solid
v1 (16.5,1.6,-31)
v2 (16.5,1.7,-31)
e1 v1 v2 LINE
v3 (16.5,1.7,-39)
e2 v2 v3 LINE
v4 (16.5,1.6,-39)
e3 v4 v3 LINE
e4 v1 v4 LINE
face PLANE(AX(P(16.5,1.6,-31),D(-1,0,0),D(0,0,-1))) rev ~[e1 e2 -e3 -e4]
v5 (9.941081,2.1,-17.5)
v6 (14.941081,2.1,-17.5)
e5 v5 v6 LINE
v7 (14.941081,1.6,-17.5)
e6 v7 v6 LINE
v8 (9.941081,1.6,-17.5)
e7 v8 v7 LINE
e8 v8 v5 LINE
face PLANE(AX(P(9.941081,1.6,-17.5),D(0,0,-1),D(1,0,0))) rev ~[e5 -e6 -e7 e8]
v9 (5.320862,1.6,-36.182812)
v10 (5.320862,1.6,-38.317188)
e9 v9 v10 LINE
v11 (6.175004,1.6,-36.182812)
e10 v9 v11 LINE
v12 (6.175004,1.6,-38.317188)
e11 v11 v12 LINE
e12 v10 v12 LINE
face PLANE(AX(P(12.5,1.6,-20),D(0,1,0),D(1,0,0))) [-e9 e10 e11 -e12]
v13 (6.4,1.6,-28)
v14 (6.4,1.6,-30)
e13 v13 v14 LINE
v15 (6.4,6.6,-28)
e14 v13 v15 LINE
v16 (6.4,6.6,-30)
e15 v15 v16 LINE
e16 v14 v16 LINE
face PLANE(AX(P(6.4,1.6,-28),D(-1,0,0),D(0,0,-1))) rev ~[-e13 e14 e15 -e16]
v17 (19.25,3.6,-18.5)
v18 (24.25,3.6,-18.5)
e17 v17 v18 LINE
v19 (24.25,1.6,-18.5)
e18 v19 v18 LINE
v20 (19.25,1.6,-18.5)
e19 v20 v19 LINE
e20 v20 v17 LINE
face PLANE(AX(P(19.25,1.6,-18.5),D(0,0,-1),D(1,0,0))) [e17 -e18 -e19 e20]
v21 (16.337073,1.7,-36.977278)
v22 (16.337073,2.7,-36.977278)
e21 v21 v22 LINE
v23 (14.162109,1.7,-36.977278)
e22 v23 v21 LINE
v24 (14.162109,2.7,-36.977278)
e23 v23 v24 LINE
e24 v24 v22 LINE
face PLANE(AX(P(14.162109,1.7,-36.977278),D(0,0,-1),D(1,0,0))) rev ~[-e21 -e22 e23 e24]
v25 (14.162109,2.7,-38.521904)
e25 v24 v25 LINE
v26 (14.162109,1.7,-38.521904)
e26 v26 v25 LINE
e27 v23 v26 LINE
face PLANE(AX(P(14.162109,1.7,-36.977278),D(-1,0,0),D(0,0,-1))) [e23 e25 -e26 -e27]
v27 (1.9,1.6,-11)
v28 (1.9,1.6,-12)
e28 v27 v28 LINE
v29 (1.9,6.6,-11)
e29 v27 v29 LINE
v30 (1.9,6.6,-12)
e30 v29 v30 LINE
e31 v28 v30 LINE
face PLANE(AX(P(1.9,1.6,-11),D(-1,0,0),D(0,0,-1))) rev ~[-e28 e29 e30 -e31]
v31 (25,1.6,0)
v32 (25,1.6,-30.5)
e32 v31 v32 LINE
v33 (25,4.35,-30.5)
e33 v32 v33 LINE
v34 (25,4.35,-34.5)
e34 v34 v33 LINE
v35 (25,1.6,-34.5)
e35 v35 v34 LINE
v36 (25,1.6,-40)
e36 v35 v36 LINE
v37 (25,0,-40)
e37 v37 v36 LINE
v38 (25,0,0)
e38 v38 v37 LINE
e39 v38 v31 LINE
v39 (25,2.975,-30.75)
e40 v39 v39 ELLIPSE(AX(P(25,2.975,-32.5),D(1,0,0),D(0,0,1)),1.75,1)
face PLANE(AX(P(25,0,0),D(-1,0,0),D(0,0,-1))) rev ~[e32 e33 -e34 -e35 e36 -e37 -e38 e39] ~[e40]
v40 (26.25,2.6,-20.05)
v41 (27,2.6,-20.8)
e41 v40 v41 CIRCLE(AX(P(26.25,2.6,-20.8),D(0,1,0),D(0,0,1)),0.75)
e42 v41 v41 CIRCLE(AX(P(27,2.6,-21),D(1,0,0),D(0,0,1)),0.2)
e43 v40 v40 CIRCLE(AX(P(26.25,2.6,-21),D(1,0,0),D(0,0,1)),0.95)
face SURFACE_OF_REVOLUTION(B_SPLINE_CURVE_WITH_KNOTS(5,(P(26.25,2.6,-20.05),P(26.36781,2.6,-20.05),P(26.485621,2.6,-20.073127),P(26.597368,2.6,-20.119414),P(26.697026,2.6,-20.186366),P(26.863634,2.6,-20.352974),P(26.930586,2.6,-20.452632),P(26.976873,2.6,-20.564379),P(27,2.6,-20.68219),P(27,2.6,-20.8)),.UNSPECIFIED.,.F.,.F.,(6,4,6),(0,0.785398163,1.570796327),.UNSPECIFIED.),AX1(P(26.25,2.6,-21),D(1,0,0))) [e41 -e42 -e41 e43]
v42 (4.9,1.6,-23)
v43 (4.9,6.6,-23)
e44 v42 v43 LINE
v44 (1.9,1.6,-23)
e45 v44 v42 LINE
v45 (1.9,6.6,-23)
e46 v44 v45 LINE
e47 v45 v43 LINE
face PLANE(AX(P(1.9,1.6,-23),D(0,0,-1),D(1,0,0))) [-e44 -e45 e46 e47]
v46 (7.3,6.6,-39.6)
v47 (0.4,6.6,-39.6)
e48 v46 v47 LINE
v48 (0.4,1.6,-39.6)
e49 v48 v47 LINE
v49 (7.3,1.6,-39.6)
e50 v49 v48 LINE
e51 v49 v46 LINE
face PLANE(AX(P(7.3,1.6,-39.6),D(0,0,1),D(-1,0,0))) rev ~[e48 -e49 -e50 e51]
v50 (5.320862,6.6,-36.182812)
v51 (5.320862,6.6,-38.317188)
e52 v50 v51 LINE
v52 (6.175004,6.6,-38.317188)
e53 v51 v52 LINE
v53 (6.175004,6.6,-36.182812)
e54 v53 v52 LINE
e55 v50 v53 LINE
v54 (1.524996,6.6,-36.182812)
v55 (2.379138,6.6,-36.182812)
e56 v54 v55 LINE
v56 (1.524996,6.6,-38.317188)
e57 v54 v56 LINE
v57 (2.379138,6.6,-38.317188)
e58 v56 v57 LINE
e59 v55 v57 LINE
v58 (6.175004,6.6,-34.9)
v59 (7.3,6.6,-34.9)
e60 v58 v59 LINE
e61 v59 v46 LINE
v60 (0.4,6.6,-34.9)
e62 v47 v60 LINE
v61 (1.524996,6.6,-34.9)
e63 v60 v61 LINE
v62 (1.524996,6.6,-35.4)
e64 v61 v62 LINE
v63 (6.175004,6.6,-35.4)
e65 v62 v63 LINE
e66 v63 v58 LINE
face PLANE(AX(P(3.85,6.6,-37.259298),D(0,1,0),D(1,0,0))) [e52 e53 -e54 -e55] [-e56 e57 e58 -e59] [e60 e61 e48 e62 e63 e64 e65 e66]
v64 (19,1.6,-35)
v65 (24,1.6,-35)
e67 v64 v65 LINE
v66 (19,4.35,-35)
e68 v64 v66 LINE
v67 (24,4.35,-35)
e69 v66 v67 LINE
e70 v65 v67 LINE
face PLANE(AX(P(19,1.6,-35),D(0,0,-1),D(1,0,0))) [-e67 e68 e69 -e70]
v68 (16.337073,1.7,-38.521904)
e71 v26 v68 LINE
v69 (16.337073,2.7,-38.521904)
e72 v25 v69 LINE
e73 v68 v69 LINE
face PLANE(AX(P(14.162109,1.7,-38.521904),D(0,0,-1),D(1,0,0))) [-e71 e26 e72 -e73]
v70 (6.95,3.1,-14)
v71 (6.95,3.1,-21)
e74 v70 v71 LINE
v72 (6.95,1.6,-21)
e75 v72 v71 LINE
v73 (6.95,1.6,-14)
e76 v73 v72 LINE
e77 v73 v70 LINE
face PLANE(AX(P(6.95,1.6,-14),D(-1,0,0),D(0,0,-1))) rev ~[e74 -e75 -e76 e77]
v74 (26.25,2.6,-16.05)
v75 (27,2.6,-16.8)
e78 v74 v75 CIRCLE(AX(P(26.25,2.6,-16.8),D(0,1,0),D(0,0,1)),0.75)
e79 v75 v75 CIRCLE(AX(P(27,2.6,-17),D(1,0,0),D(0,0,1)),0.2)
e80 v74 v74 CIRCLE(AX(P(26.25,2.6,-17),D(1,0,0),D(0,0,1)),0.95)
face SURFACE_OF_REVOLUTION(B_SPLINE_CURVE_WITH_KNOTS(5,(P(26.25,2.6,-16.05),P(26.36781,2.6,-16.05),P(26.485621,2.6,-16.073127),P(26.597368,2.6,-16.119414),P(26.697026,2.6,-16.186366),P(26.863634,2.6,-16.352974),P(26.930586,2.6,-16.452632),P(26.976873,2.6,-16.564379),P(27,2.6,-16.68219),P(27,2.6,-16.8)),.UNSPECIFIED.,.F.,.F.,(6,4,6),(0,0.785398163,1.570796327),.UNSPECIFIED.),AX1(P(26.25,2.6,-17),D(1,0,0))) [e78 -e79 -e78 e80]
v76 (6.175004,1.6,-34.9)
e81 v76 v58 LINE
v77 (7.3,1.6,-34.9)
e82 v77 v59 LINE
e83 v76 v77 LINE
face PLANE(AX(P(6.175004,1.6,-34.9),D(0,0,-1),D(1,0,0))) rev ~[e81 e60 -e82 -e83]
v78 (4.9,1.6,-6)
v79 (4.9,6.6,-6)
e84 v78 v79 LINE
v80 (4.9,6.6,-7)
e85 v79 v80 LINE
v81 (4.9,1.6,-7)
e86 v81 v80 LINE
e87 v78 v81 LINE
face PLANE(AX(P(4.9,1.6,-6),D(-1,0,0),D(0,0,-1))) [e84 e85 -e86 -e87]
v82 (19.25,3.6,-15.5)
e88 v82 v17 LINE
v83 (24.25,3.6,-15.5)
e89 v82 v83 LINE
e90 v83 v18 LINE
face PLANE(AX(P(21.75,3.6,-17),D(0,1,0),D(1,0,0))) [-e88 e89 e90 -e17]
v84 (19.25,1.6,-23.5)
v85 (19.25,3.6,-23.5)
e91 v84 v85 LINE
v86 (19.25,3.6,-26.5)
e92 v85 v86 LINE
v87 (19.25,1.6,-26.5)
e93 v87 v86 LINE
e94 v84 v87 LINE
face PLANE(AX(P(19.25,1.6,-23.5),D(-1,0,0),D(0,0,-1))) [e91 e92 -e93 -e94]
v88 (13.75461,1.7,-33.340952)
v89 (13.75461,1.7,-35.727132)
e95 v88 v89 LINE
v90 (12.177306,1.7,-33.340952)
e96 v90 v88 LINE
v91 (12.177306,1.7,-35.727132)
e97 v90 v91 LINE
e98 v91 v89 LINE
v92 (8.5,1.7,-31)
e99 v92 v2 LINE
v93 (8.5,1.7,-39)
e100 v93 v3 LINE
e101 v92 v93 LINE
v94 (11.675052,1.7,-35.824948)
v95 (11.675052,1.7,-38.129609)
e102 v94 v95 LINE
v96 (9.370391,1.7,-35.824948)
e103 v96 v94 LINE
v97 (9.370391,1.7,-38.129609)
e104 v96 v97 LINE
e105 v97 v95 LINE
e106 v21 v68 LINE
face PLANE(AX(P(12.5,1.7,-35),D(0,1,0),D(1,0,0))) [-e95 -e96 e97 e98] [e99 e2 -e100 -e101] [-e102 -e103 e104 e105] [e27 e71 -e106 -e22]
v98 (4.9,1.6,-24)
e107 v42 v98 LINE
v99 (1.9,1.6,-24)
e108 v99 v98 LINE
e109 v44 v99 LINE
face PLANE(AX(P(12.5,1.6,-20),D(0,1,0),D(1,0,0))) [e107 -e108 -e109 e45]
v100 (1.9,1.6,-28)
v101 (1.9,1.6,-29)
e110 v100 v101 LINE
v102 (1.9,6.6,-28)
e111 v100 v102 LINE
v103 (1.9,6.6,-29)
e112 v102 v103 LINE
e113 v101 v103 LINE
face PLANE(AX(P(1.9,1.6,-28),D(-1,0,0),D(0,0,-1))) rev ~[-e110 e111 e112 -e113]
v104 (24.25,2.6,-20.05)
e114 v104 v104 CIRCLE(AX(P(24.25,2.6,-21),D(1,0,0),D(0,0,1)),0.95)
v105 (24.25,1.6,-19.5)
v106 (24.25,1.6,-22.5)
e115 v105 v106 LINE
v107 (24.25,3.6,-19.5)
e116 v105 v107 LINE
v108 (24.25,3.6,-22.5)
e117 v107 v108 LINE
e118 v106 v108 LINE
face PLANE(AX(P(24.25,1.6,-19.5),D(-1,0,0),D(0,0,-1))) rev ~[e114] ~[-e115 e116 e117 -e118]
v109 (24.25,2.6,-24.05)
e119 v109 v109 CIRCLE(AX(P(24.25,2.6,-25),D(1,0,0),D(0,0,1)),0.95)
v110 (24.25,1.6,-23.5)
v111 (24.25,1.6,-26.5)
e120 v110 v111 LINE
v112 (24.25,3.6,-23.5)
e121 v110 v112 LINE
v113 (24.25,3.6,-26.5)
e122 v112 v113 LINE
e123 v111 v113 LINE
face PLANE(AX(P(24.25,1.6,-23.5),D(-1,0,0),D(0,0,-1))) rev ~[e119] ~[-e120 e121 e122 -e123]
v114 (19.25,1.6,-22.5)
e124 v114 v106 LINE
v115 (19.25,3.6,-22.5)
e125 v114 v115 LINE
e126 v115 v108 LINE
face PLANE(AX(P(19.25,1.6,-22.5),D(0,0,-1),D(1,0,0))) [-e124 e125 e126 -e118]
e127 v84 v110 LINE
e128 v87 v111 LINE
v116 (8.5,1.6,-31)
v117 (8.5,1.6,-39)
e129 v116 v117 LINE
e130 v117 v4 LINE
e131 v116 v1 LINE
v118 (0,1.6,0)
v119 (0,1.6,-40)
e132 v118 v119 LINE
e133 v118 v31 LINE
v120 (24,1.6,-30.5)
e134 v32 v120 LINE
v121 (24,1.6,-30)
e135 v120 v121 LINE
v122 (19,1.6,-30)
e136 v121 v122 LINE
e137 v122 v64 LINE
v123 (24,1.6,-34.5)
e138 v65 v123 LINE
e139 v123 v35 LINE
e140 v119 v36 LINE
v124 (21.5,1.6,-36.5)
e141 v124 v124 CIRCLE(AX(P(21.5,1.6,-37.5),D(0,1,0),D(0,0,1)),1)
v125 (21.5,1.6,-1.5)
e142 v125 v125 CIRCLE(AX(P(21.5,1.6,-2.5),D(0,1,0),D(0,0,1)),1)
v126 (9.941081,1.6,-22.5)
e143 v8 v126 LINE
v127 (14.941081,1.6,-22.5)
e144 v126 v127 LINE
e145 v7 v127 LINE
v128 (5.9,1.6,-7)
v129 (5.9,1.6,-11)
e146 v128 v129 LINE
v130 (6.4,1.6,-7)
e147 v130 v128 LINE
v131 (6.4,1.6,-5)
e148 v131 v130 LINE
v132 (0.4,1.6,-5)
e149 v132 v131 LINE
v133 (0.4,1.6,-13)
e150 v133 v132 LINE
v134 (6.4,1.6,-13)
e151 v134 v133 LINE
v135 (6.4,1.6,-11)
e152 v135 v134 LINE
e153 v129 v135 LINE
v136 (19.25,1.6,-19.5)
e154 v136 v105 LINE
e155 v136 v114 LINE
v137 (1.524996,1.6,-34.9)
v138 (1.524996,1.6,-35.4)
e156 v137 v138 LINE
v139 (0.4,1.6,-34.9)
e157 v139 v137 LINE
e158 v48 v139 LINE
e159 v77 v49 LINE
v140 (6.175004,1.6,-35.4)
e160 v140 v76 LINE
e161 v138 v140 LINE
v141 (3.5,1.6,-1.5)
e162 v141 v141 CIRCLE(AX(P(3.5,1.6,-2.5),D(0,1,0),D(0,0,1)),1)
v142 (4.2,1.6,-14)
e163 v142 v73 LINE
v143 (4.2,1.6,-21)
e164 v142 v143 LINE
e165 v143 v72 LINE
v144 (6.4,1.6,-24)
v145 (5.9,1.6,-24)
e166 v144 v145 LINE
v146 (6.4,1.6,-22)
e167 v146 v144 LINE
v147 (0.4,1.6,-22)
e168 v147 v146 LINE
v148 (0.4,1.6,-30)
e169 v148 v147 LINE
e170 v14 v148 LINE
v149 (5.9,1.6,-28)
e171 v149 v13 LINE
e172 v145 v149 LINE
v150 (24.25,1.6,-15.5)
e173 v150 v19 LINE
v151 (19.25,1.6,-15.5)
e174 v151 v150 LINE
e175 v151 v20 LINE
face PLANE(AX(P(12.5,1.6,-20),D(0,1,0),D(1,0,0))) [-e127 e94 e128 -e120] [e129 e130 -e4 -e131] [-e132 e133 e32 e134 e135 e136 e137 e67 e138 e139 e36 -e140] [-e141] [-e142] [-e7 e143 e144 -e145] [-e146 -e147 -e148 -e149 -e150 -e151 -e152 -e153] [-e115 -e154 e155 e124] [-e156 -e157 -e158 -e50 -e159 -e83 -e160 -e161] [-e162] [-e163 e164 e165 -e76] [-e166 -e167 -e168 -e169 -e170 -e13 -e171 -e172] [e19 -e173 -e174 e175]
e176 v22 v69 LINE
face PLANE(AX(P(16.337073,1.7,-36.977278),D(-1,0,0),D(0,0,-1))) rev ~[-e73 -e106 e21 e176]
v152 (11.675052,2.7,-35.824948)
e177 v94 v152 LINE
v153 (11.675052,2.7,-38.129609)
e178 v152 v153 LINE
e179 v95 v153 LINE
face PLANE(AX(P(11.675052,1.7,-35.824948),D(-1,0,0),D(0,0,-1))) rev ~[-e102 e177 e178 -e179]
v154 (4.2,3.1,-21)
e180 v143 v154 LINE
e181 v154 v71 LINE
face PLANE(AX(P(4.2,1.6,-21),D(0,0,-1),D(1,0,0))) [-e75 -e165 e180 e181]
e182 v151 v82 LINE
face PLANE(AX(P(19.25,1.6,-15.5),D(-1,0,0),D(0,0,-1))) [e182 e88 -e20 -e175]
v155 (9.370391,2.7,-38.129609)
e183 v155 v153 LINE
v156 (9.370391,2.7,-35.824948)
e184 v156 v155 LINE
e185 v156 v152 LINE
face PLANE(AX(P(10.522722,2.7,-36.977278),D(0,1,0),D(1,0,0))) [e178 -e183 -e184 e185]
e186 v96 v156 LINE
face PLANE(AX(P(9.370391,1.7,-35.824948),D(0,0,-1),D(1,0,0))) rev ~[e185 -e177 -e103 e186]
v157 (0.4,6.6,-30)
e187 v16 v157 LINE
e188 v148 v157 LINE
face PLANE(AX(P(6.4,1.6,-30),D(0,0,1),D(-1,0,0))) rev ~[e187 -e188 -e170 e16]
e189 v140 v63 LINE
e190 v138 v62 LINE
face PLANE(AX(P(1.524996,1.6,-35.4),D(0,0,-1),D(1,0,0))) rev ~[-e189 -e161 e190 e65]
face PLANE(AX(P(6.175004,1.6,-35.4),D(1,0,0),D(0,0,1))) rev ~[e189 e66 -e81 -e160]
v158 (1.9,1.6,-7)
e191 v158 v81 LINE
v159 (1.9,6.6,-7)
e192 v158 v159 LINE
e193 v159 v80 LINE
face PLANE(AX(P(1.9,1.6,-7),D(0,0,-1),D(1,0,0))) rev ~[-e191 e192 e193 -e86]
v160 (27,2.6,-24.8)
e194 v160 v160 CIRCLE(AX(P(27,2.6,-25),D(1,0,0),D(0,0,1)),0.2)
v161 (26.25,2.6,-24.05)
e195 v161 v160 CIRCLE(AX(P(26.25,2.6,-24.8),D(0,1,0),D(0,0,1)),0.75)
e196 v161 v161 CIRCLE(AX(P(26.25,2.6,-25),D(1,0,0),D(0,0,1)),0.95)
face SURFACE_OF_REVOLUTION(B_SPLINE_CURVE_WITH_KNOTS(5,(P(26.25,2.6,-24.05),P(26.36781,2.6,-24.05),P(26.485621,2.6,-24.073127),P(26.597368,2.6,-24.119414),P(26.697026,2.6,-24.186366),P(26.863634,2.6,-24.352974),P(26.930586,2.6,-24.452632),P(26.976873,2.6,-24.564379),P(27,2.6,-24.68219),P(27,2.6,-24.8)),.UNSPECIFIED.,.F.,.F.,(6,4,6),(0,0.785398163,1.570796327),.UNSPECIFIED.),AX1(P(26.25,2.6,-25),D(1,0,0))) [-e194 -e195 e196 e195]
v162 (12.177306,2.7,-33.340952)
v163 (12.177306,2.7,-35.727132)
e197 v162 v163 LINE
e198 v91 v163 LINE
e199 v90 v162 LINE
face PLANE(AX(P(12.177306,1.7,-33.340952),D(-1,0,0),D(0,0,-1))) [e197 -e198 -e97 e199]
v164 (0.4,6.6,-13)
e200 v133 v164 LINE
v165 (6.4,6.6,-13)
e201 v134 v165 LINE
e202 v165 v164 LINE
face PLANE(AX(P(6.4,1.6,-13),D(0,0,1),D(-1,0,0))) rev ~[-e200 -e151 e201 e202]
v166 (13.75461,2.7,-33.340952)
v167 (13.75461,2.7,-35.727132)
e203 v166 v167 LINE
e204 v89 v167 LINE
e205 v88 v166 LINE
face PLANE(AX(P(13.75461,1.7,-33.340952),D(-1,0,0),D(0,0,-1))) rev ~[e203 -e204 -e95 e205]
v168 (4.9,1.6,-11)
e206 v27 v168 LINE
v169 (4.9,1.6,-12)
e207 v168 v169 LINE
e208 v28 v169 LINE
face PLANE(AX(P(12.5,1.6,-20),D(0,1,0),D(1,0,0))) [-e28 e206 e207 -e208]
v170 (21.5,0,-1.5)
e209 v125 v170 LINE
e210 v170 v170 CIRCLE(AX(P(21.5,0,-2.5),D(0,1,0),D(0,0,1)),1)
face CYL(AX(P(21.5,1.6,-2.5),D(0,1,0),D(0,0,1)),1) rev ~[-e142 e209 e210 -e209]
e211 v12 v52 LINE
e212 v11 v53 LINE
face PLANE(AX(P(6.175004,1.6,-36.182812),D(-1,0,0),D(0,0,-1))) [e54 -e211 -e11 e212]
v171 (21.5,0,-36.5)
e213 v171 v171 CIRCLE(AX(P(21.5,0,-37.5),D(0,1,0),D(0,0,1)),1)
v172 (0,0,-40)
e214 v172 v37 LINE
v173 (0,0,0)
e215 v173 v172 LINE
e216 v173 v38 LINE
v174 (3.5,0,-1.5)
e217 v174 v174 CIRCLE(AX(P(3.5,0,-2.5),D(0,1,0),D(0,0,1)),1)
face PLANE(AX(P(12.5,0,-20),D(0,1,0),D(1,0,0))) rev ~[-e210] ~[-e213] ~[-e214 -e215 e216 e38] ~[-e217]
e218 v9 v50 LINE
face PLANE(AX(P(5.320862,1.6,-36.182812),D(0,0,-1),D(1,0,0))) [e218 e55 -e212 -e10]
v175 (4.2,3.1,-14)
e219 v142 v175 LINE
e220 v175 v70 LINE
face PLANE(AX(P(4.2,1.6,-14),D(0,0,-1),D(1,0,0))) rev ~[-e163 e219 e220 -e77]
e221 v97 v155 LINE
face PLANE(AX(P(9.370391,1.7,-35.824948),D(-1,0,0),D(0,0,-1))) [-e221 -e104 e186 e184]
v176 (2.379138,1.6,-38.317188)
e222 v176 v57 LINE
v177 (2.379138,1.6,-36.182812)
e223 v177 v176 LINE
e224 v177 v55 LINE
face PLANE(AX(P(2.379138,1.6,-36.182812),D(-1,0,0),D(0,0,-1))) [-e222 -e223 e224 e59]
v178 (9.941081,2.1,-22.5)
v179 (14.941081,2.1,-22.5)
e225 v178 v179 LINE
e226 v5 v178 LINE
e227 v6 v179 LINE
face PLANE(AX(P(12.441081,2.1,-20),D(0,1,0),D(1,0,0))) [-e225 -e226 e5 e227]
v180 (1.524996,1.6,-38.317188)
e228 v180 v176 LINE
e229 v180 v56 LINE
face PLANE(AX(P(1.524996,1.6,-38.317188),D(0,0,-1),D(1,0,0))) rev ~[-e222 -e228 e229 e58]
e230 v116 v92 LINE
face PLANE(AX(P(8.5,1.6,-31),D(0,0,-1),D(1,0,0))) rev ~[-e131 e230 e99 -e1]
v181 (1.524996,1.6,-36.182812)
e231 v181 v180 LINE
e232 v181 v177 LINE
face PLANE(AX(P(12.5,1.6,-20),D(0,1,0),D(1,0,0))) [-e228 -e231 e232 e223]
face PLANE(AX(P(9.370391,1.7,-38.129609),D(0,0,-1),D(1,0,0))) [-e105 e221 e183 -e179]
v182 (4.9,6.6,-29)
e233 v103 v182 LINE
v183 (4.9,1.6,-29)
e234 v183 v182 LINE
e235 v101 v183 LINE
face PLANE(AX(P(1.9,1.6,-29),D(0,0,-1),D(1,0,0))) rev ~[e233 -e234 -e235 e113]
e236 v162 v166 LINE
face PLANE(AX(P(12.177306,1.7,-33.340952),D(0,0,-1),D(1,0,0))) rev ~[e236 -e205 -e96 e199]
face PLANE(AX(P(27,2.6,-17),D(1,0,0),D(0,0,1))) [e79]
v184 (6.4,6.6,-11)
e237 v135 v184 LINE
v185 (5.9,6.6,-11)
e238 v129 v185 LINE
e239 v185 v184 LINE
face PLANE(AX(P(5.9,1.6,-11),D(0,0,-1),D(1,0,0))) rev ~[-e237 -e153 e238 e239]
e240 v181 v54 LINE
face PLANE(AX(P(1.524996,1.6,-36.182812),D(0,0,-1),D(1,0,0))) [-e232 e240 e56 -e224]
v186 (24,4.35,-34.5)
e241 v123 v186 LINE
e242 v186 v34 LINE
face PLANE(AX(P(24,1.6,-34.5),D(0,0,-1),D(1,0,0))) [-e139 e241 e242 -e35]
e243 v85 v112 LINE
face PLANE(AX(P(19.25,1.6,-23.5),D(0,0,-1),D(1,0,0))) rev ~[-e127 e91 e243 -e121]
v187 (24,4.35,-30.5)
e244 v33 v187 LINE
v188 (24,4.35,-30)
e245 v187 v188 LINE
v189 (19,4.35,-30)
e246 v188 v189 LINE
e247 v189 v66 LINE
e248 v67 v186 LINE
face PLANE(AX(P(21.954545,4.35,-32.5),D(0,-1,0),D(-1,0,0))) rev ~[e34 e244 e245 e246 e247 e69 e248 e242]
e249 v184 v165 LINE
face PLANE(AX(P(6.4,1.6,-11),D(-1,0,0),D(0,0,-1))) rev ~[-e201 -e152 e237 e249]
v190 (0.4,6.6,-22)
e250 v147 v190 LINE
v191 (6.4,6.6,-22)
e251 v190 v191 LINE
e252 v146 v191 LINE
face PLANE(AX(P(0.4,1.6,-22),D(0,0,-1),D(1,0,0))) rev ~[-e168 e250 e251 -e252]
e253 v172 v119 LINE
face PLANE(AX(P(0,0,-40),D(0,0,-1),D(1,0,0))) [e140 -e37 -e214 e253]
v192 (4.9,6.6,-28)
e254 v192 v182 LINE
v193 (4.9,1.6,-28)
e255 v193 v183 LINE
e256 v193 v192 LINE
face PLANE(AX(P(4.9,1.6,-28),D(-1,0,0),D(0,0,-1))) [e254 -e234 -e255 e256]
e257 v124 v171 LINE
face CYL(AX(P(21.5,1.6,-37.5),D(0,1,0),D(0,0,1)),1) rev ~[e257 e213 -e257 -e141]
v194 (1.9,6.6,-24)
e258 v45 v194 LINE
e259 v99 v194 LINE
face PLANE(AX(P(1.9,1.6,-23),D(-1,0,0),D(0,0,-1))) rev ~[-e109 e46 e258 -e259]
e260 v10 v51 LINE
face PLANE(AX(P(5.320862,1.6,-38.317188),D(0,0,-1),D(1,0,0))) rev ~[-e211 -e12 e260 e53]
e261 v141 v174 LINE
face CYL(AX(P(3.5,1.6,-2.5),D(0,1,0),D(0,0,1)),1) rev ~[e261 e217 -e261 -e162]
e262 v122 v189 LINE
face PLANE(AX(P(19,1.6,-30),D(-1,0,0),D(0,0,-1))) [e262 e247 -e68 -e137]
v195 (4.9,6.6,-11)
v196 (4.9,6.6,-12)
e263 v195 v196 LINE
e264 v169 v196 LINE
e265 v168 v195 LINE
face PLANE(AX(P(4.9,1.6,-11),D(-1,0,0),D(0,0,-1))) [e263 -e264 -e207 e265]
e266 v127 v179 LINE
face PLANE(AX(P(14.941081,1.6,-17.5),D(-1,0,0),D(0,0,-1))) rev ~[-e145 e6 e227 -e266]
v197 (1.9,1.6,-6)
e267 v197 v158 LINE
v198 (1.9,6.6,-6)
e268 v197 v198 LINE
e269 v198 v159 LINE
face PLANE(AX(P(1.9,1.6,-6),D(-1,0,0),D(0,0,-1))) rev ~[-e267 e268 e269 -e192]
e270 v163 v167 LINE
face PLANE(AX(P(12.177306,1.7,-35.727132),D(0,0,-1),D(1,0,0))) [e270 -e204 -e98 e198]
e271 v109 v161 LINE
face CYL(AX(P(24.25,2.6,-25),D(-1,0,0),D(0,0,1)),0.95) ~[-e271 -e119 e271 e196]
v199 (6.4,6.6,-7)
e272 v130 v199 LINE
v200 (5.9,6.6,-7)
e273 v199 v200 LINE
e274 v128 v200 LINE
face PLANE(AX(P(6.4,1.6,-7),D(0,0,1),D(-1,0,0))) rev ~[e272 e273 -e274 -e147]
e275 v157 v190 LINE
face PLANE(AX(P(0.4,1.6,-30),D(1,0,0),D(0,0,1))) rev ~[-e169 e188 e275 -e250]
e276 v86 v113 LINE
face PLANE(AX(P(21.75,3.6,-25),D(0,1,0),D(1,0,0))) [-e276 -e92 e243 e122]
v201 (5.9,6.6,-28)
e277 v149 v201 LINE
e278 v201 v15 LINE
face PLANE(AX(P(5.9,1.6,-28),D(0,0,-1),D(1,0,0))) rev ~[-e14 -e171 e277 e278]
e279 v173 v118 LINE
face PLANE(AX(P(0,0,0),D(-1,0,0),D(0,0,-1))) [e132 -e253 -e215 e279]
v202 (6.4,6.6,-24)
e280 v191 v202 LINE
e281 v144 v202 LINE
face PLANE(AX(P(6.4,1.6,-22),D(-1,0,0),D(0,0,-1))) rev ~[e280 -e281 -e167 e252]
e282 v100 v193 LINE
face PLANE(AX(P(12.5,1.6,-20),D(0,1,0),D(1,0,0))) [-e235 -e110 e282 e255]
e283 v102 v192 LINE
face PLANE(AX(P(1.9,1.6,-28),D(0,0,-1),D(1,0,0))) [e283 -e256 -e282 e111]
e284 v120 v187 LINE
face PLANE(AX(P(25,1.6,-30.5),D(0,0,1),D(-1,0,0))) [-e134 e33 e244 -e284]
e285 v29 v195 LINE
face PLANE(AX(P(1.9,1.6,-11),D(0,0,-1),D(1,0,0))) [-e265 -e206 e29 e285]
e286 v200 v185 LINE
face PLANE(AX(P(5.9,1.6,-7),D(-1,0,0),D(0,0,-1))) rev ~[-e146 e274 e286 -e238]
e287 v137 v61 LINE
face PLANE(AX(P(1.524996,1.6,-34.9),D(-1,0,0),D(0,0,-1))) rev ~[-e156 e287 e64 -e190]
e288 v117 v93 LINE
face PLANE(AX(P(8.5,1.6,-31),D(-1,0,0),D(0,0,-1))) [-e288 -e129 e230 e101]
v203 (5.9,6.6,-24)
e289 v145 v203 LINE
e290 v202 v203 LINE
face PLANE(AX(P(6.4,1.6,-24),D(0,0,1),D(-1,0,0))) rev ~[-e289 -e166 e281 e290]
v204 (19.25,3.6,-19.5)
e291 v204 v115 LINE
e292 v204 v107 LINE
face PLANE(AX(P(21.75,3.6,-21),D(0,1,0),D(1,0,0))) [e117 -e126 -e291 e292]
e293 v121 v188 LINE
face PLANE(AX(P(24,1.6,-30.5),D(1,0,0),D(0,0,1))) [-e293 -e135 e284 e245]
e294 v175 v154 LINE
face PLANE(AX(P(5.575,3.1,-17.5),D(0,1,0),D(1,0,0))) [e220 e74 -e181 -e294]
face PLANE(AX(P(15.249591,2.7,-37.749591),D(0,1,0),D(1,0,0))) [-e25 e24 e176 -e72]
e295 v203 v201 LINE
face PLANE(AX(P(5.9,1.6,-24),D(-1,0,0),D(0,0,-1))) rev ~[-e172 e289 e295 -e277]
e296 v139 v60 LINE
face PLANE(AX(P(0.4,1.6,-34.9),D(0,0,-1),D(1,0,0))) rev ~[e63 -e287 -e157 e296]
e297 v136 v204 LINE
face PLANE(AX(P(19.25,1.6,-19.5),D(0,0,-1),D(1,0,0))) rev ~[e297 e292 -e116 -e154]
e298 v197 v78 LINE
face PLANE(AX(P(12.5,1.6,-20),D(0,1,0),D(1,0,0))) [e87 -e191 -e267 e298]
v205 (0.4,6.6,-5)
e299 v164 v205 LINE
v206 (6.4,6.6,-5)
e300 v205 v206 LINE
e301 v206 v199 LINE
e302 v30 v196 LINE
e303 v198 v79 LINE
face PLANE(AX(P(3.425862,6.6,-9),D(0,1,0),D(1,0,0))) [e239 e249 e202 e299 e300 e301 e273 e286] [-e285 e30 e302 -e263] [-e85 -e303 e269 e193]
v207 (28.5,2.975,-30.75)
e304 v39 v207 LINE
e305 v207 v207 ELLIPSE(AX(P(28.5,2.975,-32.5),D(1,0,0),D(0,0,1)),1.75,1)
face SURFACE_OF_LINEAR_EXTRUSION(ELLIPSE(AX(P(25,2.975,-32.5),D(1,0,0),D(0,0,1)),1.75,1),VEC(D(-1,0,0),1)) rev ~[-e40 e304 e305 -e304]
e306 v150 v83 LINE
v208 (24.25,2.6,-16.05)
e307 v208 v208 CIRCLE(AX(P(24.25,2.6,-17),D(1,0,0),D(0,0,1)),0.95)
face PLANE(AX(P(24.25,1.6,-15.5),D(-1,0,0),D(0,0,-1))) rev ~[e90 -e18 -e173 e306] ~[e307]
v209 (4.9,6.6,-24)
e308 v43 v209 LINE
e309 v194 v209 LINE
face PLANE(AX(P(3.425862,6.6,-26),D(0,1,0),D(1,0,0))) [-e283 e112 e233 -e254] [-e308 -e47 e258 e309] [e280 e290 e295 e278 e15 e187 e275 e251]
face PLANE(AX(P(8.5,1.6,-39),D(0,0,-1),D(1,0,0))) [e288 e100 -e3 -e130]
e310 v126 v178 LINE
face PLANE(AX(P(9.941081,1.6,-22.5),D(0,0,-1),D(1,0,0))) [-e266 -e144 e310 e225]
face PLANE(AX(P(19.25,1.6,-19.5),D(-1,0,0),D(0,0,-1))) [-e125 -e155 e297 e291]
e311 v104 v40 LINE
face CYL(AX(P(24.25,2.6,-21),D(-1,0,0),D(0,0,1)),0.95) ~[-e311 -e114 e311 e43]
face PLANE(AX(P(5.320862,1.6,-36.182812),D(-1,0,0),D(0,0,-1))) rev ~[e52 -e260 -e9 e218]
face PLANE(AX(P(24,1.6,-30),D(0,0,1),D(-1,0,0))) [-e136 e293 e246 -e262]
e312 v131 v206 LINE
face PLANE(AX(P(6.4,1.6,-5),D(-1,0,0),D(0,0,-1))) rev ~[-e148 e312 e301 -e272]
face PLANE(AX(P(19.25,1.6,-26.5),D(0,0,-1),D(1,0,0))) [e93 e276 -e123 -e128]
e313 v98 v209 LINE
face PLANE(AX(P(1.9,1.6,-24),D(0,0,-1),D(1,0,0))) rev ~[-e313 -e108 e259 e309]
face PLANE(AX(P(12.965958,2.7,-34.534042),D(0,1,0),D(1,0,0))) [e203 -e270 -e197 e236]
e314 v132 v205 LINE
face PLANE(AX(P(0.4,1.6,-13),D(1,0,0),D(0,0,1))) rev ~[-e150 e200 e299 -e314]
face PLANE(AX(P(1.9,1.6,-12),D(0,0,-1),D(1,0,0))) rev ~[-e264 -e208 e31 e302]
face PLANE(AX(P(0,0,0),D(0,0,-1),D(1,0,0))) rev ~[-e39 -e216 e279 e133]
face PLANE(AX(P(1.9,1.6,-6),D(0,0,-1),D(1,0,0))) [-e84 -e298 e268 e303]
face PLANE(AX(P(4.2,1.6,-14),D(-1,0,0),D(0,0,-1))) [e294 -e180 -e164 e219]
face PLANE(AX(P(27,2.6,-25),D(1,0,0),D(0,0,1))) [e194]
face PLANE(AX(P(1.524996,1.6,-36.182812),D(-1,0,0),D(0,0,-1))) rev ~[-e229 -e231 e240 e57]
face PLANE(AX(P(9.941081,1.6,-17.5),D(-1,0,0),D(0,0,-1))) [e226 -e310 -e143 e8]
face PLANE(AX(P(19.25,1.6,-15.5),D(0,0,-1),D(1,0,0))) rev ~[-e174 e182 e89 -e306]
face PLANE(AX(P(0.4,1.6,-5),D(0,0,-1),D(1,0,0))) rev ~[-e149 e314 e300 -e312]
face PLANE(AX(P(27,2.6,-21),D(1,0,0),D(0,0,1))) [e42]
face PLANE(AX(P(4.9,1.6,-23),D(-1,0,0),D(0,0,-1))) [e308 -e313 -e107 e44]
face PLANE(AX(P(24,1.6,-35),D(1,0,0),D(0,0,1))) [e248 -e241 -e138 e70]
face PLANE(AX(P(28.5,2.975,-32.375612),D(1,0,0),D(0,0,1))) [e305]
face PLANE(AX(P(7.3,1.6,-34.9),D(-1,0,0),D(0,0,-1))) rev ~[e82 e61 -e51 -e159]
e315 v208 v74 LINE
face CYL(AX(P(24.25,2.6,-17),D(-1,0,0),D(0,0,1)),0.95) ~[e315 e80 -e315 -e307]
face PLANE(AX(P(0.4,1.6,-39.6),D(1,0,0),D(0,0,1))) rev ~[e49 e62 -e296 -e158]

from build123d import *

# Parameters (mm, degrees)
SKETCH1_W              = 25
SKETCH1_H              = 40
BOSS_EXTRUDE1_DEPTH    = 1.6
SKETCH2_W              = 5
SKETCH2_H              = 5
BOSS_EXTRUDE2_DEPTH    = 0.5
SKETCH3_W              = 5
SKETCH3_H              = 3
BOSS_EXTRUDE3_DEPTH    = 2
SKETCH4_R              = 0.95
BOSS_EXTRUDE6_DEPTH    = 2.75
FILLET2_R              = 0.75
LPATTERN2_COUNT        = 3
LPATTERN2_PITCH        = 4
FILLET2_OF_LPATTERN2_R = 0.75
BOSS_EXTRUDE7_DEPTH    = 2.75
SKETCH6_RX             = 1.75
SKETCH6_RY             = 1
BOSS_EXTRUDE8_DEPTH    = 3.5
SKETCH7_W              = 8
SKETCH7_H              = 8
SKETCH7_W_2            = 2.174963518
SKETCH7_H_2            = 1.544625232
SKETCH7_W_3            = 2.304661065
SKETCH7_H_3            = 2.304661065
SKETCH7_W_4            = 1.577304609
SKETCH7_H_4            = 2.386179735
BOSS_EXTRUDE9_DEPTH    = 0.1
SKETCH8_W              = 2.304661065
SKETCH8_H              = 2.304661065
SKETCH8_W_2            = 1.577304609
SKETCH8_H_2            = 2.386179735
SKETCH8_W_3            = 2.174963518
SKETCH8_H_3            = 1.544625232
BOSS_EXTRUDE10_DEPTH   = 1
SKETCH9_W              = 2.75
SKETCH9_H              = 7
BOSS_EXTRUDE11_DEPTH   = 1.5
SKETCH10_W             = 3
SKETCH10_H             = 1
BOSS_EXTRUDE12_DEPTH   = 5
LPATTERN3_COUNT        = 2
LPATTERN3_PITCH        = 17
SKETCH11_W             = 0.854141563
SKETCH11_H             = 2.134375226
BOSS_EXTRUDE13_DEPTH   = 5
CUT_EXTRUDE1_REACH     = 51.369
SKETCH12_R             = 1


with BuildPart() as part:
    # Sketch1 → Boss-Extrude1 (new body)
    with BuildSketch(Plane(origin=(0, 0, 0), x_dir=(1, 0, 0), z_dir=(0, 1, 0))):
        with Locations((12.5, 20)):
            Rectangle(SKETCH1_W, SKETCH1_H)
    extrude(amount=BOSS_EXTRUDE1_DEPTH)

    # Sketch2 → Boss-Extrude2 (add)
    with BuildSketch(Plane(origin=(0, 1.6, 0), x_dir=(1, 0, 0), z_dir=(0, 1, 0))):
        with Locations((12.441080564, 20)):
            Rectangle(SKETCH2_W, SKETCH2_H)
    extrude(amount=BOSS_EXTRUDE2_DEPTH)

    # Sketch3 → Boss-Extrude3 (add)
    with BuildSketch(Plane(origin=(0, 1.6, 0), x_dir=(1, 0, 0), z_dir=(0, 1, 0))):
        with Locations((21.75, 17)):
            Rectangle(SKETCH3_W, SKETCH3_H)
    boss_extrude3 = extrude(amount=BOSS_EXTRUDE3_DEPTH)

    # Sketch4 → Boss-Extrude6 (add)
    with BuildSketch(Plane(origin=(24.25, 0, 0), x_dir=(0, 0, -1), z_dir=(1, 0, 0))):
        with Locations(Location((17, 2.6, 0), (0, 0, 180))):
            Circle(SKETCH4_R)
    boss_extrude6 = extrude(amount=BOSS_EXTRUDE6_DEPTH)

    # Fillet2
    fillet2_edges = [part.edges().sort_by_distance(p)[0] for p in [
        (27, 2.6, -17.95),
    ]]
    fillet(fillet2_edges, radius=FILLET2_R)

    # LPattern2: Boss-Extrude3, Boss-Extrude6 ×3
    with Locations(*[(0, 0, -i * LPATTERN2_PITCH) for i in range(1, LPATTERN2_COUNT)]):
        add(boss_extrude3)
        add(boss_extrude6)

    # Fillet2 of LPattern2
    fillet2_of_lpattern2_edges = [part.edges().sort_by_distance(p)[0] for p in [
        (27, 2.6, -21.95),
        (27, 2.6, -25.95),
    ]]
    fillet(fillet2_of_lpattern2_edges, radius=FILLET2_OF_LPATTERN2_R)

    # Sketch5 → Boss-Extrude7 (add)
    with BuildSketch(Plane(origin=(0, 1.6, 0), x_dir=(1, 0, 0), z_dir=(0, 1, 0))):
        Polygon((24, 30.5), (24, 30), (19, 30), (19, 35), (24, 35), (24, 34.5), (25, 34.5), (25, 30.5), align=None)
    extrude(amount=BOSS_EXTRUDE7_DEPTH)

    # Sketch6 → Boss-Extrude8 (add)
    with BuildSketch(Plane(origin=(25, 0, 0), x_dir=(0, 0, -1), z_dir=(1, 0, 0))):
        with Locations(Location((32.5, 2.975), (0, 0, 180))):
            Ellipse(SKETCH6_RX, SKETCH6_RY)
    extrude(amount=BOSS_EXTRUDE8_DEPTH)

    # Sketch7 → Boss-Extrude9 (add)
    # profile 1 of 4: a face of its own
    with BuildSketch(Plane(origin=(0, 1.6, 0), x_dir=(1, 0, 0), z_dir=(0, 1, 0))):
        with Locations((12.5, 35)):
            Rectangle(SKETCH7_W, SKETCH7_H)
        with Locations((15.249590998, 37.749590998)):
            Rectangle(SKETCH7_W_2, SKETCH7_H_2, mode=Mode.SUBTRACT)
        with Locations((10.522721618, 36.977278383)):
            Rectangle(SKETCH7_W_3, SKETCH7_H_3, mode=Mode.SUBTRACT)
        with Locations((12.965958092, 34.534041908)):
            Rectangle(SKETCH7_W_4, SKETCH7_H_4, mode=Mode.SUBTRACT)
    # profile 2 of 4: a face of its own
    with BuildSketch(Plane(origin=(0, 1.6, 0), x_dir=(1, 0, 0), z_dir=(0, 1, 0))):
        with Locations((15.249590998, 37.749590998)):
            Rectangle(SKETCH7_W_2, SKETCH7_H_2)
    # profile 3 of 4: a face of its own
    with BuildSketch(Plane(origin=(0, 1.6, 0), x_dir=(1, 0, 0), z_dir=(0, 1, 0))):
        with Locations((10.522721618, 36.977278383)):
            Rectangle(SKETCH7_W_3, SKETCH7_H_3)
    # profile 4 of 4: a face of its own
    with BuildSketch(Plane(origin=(0, 1.6, 0), x_dir=(1, 0, 0), z_dir=(0, 1, 0))):
        with Locations((12.965958092, 34.534041908)):
            Rectangle(SKETCH7_W_4, SKETCH7_H_4)
    extrude(amount=BOSS_EXTRUDE9_DEPTH)

    # Sketch8 → Boss-Extrude10 (add)
    with BuildSketch(Plane(origin=(0, 1.7, 0), x_dir=(1, 0, 0), z_dir=(0, 1, 0))):
        with Locations((10.522721618, 36.977278383)):
            Rectangle(SKETCH8_W, SKETCH8_H)
        with Locations((12.965958092, 34.534041908)):
            Rectangle(SKETCH8_W_2, SKETCH8_H_2)
        with Locations((15.249590998, 37.749590998)):
            Rectangle(SKETCH8_W_3, SKETCH8_H_3)
    extrude(amount=BOSS_EXTRUDE10_DEPTH)

    # Sketch9 → Boss-Extrude11 (add)
    with BuildSketch(Plane(origin=(0, 1.6, 0), x_dir=(1, 0, 0), z_dir=(0, 1, 0))):
        with Locations((5.575, 17.5)):
            Rectangle(SKETCH9_W, SKETCH9_H)
    extrude(amount=BOSS_EXTRUDE11_DEPTH)

    # Sketch10 → Boss-Extrude12 (add)
    with BuildSketch(Plane(origin=(0, 1.6, 0), x_dir=(1, 0, 0), z_dir=(0, 1, 0))):
        Polygon((6.4, 13), (0.4, 13), (0.4, 5), (6.4, 5), (6.4, 7), (5.9, 7), (5.9, 11), (6.4, 11), align=None)
        with Locations((3.4, 11.5)):
            Rectangle(SKETCH10_W, SKETCH10_H, mode=Mode.SUBTRACT)
        with Locations((3.4, 6.5)):
            Rectangle(SKETCH10_W, SKETCH10_H, mode=Mode.SUBTRACT)
    boss_extrude12 = extrude(amount=BOSS_EXTRUDE12_DEPTH)

    # LPattern3: Boss-Extrude12 ×2
    with Locations(*[(0, 0, -i * LPATTERN3_PITCH) for i in range(1, LPATTERN3_COUNT)]):
        add(boss_extrude12)

    # Sketch11 → Boss-Extrude13 (add)
    with BuildSketch(Plane(origin=(0, 1.6, 0), x_dir=(1, 0, 0), z_dir=(0, 1, 0))):
        Polygon((7.3, 39.6), (0.4, 39.6), (0.4, 34.9), (1.524996245, 34.9), (1.524996245, 35.4), (6.175003755, 35.4), (6.175003755, 34.9), (7.3, 34.9), align=None)
        with Locations((5.747932974, 37.25)):
            Rectangle(SKETCH11_W, SKETCH11_H, mode=Mode.SUBTRACT)
        with Locations((1.952067027, 37.25)):
            Rectangle(SKETCH11_W, SKETCH11_H, mode=Mode.SUBTRACT)
    extrude(amount=BOSS_EXTRUDE13_DEPTH)

    # Sketch12 → Cut-Extrude1 (cut, up to next)
    with BuildSketch(Plane(origin=(0, 1.6, 0), x_dir=(1, 0, 0), z_dir=(0, 1, 0)), mode=Mode.PRIVATE) as cut_extrude1_sk1:
        with Locations(Location((3.5, 2.5, 0), (0, 0, 270))):
            Circle(SKETCH12_R)
    cut_extrude1_tool1 = extrude(cut_extrude1_sk1.sketch, amount=-CUT_EXTRUDE1_REACH, mode=Mode.PRIVATE) & part.part
    # Sketch12 → Cut-Extrude1 (cut, up to next)
    with BuildSketch(Plane(origin=(0, 1.6, 0), x_dir=(1, 0, 0), z_dir=(0, 1, 0)), mode=Mode.PRIVATE) as cut_extrude1_sk2:
        with Locations(Location((21.5, 2.5, 0), (0, 0, 270))):
            Circle(SKETCH12_R)
    cut_extrude1_tool2 = extrude(cut_extrude1_sk2.sketch, amount=-CUT_EXTRUDE1_REACH, mode=Mode.PRIVATE) & part.part
    # Sketch12 → Cut-Extrude1 (cut, up to next)
    with BuildSketch(Plane(origin=(0, 1.6, 0), x_dir=(1, 0, 0), z_dir=(0, 1, 0)), mode=Mode.PRIVATE) as cut_extrude1_sk3:
        with Locations(Location((21.5, 37.5, 0), (0, 0, 270))):
            Circle(SKETCH12_R)
    cut_extrude1_tool3 = extrude(cut_extrude1_sk3.sketch, amount=-CUT_EXTRUDE1_REACH, mode=Mode.PRIVATE) & part.part
    add(cut_extrude1_tool1.solids().sort_by_distance((3.5, 1.6, -2.5))[0], mode=Mode.SUBTRACT)
    add(cut_extrude1_tool2.solids().sort_by_distance((21.5, 1.6, -2.5))[0], mode=Mode.SUBTRACT)
    add(cut_extrude1_tool3.solids().sort_by_distance((21.5, 1.6, -37.5))[0], mode=Mode.SUBTRACT)


solid = part.part
